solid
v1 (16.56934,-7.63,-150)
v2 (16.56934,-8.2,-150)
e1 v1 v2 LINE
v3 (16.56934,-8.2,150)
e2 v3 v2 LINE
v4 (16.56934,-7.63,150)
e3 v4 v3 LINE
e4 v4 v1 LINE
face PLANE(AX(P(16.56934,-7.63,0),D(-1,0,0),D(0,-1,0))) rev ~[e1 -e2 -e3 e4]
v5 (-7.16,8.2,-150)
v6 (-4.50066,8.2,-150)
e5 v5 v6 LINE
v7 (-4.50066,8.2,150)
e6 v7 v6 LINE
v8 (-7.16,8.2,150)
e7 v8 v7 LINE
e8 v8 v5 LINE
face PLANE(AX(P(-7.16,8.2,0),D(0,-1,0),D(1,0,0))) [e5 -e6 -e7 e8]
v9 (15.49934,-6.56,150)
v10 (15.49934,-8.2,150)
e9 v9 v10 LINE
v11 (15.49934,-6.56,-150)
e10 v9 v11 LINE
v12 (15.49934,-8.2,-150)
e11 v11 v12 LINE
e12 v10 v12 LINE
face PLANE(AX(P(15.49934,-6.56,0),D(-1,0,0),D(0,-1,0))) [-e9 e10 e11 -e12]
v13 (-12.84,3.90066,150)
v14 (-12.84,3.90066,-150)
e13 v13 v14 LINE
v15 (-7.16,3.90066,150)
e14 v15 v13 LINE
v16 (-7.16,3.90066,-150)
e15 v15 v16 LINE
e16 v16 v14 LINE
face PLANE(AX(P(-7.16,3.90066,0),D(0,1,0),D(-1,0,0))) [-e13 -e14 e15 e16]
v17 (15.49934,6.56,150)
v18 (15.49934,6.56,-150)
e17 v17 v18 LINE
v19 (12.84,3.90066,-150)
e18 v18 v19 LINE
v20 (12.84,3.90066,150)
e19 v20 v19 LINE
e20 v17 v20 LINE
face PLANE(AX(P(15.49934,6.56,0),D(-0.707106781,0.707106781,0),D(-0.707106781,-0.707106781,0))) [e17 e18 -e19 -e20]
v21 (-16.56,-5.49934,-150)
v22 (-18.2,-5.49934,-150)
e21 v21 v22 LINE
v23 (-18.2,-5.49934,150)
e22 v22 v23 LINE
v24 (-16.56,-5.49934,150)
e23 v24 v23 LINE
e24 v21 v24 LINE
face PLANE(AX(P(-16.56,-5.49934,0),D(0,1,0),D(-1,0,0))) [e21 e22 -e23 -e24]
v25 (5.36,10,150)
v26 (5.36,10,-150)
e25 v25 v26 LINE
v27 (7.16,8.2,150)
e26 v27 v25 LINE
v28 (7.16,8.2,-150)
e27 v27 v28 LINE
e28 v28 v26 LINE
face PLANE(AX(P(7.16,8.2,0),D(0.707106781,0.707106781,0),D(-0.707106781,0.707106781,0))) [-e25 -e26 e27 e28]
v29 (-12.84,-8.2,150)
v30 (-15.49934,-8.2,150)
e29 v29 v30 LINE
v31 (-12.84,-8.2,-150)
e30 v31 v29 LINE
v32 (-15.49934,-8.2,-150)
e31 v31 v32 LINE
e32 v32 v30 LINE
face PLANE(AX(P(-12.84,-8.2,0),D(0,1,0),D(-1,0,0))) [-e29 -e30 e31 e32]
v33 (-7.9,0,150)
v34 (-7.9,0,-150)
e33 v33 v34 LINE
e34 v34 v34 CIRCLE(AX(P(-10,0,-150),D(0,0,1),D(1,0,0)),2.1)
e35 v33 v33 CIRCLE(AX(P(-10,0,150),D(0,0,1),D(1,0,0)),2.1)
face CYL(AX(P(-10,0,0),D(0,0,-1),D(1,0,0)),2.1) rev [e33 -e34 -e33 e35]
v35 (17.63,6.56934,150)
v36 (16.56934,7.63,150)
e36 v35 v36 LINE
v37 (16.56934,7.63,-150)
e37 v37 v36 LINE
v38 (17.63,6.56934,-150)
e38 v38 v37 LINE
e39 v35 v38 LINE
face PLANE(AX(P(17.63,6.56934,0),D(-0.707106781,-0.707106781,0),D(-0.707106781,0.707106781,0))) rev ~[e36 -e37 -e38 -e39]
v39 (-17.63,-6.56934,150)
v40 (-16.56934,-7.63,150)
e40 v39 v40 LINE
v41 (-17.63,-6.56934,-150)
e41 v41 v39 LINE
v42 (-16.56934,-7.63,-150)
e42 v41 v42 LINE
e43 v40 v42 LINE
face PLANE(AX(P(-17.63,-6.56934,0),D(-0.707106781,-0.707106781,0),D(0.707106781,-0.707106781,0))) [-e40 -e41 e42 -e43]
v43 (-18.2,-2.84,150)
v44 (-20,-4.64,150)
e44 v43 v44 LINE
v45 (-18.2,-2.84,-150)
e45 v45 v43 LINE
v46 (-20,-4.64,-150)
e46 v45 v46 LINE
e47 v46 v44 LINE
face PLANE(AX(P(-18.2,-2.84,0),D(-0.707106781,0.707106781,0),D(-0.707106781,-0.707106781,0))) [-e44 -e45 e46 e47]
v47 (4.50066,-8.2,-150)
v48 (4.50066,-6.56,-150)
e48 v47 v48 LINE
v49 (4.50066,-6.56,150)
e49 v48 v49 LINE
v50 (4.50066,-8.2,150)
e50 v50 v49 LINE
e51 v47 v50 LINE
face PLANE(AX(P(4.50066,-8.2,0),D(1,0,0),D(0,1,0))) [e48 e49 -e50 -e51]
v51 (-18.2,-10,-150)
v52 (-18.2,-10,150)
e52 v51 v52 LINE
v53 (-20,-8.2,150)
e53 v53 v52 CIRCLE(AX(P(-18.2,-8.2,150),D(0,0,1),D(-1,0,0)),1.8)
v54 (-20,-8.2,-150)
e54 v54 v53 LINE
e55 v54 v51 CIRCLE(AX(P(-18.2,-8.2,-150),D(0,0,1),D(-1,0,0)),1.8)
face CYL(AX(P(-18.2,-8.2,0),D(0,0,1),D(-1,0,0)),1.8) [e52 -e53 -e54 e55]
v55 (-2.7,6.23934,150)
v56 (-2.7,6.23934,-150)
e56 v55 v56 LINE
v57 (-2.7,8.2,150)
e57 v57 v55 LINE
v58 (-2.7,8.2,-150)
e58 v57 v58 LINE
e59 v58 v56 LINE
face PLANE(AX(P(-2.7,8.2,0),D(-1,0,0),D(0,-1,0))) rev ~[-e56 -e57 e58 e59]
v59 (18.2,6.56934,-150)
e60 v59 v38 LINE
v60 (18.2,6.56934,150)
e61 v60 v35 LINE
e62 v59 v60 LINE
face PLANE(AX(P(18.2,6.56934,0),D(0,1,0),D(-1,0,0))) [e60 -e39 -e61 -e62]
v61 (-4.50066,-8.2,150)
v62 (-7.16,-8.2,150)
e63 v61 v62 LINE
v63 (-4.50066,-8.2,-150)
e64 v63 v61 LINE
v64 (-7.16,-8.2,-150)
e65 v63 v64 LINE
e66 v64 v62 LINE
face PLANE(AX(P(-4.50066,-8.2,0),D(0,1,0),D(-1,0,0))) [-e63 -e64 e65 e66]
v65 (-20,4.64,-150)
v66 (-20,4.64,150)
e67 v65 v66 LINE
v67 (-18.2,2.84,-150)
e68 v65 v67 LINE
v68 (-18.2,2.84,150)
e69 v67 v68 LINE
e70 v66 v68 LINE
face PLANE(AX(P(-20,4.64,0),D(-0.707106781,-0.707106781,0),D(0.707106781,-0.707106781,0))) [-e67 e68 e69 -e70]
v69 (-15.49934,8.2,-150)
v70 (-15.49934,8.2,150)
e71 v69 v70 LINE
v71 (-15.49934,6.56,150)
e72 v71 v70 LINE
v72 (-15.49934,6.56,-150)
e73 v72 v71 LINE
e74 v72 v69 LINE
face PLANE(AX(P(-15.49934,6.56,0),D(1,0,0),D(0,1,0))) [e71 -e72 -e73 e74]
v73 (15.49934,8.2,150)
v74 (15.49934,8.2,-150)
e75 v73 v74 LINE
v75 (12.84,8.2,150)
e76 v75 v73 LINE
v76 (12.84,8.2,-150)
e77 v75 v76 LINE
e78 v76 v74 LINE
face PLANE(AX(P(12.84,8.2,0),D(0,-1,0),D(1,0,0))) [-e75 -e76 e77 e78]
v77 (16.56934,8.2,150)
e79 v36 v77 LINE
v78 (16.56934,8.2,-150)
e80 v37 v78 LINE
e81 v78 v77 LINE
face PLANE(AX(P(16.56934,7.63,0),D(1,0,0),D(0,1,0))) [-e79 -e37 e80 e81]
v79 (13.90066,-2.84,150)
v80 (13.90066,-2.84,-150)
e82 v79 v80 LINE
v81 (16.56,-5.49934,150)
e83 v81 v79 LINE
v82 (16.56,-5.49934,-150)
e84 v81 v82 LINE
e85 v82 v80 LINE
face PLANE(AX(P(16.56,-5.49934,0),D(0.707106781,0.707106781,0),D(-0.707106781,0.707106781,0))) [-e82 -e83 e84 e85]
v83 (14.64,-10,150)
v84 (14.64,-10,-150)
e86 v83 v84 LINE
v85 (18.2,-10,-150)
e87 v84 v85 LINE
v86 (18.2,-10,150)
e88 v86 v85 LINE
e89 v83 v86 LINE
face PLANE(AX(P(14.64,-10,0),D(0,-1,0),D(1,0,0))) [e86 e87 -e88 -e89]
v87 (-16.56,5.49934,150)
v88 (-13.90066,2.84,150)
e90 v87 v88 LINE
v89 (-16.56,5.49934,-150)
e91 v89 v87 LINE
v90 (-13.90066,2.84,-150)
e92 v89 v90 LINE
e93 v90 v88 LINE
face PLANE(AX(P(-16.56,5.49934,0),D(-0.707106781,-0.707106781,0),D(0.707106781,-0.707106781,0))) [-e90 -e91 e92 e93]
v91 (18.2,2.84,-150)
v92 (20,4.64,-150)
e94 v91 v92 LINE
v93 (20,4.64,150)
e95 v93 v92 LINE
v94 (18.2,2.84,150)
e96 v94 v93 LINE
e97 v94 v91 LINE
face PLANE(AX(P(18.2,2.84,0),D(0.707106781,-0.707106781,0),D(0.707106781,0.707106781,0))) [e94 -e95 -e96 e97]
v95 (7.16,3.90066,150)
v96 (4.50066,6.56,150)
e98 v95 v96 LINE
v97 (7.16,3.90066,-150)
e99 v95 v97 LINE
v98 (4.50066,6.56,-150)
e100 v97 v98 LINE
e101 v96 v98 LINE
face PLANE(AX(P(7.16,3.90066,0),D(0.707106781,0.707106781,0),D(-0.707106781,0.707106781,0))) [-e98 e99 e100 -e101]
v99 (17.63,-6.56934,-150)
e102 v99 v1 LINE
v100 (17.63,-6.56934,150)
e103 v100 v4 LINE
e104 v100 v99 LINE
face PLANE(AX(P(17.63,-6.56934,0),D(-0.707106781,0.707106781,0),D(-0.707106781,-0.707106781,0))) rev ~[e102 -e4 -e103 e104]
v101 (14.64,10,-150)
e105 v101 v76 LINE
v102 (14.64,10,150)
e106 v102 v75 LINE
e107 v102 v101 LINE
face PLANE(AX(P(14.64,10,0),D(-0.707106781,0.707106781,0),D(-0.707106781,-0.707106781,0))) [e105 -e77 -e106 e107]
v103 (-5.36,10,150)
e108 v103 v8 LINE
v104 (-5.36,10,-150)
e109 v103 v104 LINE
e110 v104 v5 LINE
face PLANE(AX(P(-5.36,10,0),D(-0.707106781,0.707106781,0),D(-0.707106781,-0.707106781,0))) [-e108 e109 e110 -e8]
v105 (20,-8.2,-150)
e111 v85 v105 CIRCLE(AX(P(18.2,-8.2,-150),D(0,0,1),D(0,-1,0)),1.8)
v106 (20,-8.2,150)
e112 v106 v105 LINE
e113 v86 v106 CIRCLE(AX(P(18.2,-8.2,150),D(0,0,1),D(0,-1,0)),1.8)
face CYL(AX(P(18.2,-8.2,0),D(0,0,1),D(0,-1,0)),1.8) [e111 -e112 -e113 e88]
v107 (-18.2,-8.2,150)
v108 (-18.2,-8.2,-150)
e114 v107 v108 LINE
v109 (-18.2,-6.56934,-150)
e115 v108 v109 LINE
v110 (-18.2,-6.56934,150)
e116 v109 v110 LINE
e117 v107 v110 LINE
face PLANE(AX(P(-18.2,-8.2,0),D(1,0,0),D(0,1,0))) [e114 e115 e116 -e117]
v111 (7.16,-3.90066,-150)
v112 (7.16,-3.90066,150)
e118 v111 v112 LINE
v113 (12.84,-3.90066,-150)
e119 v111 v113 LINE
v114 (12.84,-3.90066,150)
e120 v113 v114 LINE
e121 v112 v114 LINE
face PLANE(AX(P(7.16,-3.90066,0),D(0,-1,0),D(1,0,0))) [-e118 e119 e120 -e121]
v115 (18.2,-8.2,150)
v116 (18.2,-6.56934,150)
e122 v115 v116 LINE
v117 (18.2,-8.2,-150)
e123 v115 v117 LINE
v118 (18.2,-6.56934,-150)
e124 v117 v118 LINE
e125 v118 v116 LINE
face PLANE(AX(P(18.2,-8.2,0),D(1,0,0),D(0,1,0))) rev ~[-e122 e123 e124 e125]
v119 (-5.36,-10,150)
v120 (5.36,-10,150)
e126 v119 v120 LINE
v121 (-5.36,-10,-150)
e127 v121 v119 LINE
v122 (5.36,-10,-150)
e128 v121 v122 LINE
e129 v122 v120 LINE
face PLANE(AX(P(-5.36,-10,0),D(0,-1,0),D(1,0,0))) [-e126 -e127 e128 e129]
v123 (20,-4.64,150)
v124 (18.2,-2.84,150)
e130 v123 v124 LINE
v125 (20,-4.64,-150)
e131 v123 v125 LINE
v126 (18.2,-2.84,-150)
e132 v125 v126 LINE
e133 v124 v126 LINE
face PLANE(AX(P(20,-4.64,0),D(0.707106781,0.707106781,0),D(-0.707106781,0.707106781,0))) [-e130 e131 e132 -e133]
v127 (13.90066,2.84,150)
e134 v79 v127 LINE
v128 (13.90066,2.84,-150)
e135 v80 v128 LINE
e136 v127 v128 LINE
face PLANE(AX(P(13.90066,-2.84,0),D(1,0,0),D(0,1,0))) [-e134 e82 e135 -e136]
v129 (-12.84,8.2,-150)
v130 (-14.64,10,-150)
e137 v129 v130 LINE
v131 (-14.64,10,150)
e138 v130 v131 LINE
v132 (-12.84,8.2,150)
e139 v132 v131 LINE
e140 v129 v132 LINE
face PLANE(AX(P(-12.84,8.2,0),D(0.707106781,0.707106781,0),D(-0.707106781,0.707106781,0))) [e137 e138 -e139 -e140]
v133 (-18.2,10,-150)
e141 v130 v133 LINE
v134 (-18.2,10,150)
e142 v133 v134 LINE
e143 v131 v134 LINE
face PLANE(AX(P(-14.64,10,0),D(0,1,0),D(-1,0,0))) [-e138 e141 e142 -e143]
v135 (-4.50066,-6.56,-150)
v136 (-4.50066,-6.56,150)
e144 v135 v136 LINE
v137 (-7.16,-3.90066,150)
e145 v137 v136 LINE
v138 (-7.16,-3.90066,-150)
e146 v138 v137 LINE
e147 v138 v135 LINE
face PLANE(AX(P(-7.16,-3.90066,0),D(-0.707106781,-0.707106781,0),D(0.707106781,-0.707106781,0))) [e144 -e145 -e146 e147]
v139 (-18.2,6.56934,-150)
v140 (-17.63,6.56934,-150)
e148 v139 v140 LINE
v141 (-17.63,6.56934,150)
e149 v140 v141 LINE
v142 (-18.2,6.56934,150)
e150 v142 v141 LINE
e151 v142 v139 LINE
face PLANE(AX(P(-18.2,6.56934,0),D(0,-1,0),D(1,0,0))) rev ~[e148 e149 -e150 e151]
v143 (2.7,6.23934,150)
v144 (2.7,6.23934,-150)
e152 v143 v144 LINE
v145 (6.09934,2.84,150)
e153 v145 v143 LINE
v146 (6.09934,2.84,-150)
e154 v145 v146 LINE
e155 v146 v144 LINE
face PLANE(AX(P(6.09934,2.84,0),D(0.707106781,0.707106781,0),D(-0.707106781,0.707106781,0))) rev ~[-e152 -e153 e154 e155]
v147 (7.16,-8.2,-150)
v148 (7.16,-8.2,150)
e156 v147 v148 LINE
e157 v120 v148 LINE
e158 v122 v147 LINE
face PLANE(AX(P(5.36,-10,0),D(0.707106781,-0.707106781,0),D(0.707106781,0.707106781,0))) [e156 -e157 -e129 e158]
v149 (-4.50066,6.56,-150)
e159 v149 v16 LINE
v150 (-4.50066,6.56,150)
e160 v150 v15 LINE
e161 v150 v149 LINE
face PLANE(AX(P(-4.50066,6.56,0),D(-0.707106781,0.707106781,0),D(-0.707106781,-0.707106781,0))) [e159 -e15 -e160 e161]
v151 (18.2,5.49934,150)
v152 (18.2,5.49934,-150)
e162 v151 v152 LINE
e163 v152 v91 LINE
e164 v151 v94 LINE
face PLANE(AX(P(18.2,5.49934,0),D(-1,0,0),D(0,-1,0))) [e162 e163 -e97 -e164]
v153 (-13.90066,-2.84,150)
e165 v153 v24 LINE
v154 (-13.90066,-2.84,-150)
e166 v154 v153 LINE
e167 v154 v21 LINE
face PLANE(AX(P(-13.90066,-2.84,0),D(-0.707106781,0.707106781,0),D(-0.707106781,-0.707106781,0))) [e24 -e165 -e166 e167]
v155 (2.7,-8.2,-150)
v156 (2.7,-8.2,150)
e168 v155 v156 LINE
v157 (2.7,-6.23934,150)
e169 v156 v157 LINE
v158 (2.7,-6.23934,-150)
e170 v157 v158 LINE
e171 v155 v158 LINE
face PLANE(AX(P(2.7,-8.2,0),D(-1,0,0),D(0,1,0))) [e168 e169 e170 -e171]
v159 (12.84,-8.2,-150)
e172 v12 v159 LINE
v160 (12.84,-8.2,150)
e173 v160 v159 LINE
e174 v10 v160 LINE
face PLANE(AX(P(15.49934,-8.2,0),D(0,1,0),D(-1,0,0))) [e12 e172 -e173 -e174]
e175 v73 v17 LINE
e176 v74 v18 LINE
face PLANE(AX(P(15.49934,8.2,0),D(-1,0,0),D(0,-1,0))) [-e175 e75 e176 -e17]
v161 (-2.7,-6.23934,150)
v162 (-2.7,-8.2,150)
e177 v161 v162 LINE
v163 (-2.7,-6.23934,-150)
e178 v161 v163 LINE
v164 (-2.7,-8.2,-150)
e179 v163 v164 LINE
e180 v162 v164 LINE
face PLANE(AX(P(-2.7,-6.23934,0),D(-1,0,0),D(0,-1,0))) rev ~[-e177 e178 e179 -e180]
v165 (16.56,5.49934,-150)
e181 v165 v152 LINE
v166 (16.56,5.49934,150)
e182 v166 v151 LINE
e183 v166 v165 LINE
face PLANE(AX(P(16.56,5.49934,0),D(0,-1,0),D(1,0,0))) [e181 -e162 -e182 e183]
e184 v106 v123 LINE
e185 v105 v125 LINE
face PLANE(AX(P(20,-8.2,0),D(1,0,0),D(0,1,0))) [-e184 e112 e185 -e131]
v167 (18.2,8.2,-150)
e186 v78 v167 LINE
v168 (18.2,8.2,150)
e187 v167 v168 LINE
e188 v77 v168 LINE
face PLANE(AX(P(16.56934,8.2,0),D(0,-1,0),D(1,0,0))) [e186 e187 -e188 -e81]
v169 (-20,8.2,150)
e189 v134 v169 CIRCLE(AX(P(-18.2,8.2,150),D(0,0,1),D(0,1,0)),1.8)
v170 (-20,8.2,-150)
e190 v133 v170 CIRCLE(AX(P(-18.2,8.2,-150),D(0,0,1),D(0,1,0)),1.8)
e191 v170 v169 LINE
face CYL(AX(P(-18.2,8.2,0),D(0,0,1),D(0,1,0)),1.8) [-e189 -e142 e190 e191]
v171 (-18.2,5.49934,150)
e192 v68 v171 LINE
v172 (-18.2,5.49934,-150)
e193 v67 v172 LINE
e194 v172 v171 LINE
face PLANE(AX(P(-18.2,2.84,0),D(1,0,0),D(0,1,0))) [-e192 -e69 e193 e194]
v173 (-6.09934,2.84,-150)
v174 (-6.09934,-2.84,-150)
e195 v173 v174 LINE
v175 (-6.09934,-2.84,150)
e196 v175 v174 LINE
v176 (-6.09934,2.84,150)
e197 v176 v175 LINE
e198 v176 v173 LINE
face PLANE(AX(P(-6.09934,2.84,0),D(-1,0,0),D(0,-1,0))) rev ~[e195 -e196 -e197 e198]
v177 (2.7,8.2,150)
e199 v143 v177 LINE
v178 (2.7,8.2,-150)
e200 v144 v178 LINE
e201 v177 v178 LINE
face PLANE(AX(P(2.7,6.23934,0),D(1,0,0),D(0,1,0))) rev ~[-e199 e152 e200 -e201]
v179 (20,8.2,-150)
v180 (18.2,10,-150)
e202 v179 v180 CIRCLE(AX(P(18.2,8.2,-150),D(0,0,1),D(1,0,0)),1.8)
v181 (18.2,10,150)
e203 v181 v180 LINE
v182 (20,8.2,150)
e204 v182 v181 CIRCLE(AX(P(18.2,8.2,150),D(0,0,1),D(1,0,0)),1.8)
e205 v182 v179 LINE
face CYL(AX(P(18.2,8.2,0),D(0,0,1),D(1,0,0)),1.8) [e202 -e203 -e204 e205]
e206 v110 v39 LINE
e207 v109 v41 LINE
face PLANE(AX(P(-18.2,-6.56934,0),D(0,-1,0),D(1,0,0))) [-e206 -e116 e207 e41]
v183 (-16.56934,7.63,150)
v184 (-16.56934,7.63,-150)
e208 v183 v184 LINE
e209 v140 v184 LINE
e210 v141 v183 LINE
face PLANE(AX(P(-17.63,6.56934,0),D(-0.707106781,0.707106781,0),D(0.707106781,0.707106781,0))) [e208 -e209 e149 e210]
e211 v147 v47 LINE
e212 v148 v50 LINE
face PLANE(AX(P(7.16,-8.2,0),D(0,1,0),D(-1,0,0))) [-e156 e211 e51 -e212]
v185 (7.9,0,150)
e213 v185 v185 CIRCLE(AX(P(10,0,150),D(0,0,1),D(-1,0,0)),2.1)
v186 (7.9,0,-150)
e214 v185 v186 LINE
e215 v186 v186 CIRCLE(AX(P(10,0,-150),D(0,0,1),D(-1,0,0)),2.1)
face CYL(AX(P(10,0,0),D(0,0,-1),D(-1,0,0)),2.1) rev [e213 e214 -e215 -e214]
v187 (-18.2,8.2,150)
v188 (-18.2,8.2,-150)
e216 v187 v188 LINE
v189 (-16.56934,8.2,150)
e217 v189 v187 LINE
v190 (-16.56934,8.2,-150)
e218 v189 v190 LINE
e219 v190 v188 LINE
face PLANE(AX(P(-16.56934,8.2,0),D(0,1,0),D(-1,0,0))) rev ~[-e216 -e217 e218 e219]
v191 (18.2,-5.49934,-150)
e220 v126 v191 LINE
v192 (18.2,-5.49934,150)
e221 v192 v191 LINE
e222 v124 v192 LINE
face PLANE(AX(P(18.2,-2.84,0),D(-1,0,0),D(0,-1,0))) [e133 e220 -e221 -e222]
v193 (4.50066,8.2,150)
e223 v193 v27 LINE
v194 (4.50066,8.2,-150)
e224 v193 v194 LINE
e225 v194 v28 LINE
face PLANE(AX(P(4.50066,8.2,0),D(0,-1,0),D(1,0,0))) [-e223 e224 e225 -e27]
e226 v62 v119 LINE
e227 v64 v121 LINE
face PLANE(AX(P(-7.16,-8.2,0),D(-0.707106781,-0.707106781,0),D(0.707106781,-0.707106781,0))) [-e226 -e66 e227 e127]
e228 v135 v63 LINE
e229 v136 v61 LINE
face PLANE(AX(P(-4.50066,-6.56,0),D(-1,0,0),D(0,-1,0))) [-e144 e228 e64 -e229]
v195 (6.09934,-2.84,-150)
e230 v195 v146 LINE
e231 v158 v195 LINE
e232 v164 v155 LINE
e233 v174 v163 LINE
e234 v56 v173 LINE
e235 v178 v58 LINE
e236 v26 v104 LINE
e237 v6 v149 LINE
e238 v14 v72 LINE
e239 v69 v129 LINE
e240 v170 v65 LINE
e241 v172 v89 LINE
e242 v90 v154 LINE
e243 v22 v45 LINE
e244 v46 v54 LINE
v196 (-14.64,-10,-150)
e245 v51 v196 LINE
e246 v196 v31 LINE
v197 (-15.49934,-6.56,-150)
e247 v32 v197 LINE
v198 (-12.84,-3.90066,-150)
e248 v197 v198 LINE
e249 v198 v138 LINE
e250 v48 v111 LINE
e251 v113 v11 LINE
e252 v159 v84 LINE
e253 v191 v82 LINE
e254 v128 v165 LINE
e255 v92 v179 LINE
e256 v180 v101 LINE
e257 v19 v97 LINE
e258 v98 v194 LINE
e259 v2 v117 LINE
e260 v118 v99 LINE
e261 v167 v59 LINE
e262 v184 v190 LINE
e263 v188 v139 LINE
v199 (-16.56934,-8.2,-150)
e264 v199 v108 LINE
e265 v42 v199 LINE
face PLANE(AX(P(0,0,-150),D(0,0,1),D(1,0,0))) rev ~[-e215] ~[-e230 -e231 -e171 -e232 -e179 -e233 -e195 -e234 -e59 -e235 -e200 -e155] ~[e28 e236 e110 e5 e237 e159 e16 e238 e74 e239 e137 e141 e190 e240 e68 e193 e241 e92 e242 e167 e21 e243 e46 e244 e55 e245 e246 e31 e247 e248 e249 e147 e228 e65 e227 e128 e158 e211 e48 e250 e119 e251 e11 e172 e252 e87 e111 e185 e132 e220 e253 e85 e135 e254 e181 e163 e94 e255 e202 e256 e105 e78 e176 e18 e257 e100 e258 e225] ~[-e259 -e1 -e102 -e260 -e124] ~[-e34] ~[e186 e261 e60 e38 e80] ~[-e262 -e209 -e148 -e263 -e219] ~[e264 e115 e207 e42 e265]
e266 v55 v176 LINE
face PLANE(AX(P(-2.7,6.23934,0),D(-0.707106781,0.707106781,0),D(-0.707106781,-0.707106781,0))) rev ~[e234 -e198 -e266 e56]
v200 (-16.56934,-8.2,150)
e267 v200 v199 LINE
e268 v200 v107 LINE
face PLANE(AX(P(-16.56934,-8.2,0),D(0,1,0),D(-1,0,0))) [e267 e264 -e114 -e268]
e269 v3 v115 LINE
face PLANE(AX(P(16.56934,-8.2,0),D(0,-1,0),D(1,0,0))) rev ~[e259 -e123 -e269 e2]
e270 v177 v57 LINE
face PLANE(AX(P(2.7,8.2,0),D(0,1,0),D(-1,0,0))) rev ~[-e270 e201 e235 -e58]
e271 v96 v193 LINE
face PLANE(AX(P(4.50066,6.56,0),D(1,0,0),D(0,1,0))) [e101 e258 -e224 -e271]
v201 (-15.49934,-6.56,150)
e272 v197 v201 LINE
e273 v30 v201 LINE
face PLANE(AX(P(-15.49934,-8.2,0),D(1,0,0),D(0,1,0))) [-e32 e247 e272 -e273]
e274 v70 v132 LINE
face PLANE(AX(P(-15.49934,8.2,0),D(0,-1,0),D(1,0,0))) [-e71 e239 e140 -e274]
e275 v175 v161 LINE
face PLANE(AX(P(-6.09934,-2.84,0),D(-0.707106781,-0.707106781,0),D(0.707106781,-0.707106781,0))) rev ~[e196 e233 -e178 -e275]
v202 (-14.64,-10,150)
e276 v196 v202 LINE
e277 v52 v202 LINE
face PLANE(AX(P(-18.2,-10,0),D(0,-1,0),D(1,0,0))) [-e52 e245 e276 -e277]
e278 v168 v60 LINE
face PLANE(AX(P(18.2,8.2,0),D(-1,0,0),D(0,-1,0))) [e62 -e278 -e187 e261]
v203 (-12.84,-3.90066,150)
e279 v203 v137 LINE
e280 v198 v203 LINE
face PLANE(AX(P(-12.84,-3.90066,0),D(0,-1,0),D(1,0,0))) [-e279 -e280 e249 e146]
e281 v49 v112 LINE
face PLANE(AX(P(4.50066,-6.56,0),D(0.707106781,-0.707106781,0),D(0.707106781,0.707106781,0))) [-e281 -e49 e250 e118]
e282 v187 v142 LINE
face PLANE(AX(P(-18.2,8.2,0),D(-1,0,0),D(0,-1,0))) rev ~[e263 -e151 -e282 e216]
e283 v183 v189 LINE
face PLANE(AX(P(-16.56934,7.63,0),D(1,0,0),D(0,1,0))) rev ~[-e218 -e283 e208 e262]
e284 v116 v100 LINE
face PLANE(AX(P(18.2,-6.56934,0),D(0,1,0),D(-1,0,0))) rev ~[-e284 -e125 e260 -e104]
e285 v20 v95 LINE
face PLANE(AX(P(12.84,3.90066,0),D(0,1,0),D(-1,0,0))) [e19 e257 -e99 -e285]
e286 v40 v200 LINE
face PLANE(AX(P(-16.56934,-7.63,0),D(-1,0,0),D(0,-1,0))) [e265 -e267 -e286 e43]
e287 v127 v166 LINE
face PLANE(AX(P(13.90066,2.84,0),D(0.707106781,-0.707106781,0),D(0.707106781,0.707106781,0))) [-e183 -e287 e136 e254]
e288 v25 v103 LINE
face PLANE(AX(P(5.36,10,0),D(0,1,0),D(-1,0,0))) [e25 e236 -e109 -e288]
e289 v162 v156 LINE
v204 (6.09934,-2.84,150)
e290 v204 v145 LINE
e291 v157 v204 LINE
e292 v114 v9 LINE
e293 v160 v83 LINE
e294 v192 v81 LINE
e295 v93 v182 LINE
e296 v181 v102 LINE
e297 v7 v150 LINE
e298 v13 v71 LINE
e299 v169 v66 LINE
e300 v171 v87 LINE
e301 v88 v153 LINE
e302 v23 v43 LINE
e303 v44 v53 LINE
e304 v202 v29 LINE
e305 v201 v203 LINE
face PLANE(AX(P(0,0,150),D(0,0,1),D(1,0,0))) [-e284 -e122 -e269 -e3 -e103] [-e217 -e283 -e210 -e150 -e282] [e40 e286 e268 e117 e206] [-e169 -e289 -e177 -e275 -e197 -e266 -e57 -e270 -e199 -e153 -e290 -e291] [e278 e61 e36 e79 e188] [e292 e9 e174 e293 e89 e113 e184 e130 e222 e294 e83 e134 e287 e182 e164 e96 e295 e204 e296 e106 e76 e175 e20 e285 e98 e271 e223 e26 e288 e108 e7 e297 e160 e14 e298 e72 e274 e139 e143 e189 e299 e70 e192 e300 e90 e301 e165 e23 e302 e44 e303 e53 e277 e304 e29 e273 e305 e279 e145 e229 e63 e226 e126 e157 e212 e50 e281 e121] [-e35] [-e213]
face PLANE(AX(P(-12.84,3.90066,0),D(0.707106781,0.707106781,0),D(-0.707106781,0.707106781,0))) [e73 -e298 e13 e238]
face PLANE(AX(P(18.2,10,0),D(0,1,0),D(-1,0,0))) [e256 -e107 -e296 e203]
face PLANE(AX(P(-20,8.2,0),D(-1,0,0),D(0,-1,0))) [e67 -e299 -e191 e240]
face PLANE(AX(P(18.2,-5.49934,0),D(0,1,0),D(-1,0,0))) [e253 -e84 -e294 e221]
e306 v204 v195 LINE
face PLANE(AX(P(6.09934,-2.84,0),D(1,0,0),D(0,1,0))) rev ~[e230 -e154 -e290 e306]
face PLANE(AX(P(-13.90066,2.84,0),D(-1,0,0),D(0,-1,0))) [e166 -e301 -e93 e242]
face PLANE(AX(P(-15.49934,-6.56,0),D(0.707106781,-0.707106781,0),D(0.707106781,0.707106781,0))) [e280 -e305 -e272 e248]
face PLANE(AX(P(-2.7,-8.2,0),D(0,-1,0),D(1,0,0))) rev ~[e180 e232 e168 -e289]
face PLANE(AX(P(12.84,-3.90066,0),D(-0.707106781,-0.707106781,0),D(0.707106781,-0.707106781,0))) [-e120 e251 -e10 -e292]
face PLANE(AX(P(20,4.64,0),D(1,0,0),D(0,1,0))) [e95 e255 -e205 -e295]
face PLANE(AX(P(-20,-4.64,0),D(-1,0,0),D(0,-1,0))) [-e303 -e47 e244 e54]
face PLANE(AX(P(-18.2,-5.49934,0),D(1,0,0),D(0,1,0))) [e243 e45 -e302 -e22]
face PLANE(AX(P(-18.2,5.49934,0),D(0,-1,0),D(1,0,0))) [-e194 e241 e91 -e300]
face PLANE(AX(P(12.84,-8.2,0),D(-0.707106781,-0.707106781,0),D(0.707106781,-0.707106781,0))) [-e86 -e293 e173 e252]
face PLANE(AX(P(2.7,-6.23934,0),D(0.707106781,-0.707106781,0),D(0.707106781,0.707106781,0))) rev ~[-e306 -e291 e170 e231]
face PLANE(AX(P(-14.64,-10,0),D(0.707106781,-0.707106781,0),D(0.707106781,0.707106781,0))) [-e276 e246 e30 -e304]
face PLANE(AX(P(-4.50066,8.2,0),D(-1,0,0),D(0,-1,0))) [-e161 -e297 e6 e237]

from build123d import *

# Parameters (mm, degrees)
ESQUISSE1_R        = 2.1
BOSS_EXTRU_1_DEPTH = 150


with BuildPart() as part:
    # Esquisse1 → Boss.-Extru.1 (new, symmetric)
    with BuildSketch(Plane.XY):
        with BuildLine():
            Line((-10, 3.900660172), (-12.84, 3.900660172))
            Line((-12.84, 3.900660172), (-15.499339828, 6.56))
            Line((-15.499339828, 6.56), (-15.499339828, 8.2))
            Line((-15.499339828, 8.2), (-12.84, 8.2))
            Line((-12.84, 8.2), (-14.64, 10))
            Line((-14.64, 10), (-18.2, 10))
            ThreePointArc((-18.2, 10), (-19.472792206, 9.472792206), (-20, 8.2))
            Line((-20, 8.2), (-20, 4.64))
            Line((-20, 4.64), (-18.2, 2.84))
            Line((-18.2, 2.84), (-18.2, 5.499339828))
            Line((-18.2, 5.499339828), (-16.56, 5.499339828))
            Line((-16.56, 5.499339828), (-13.900660172, 2.84))
            Line((-13.900660172, 2.84), (-13.900660172, 0))
            Line((-13.900660172, 0), (-13.900660172, -2.84))
            Line((-13.900660172, -2.84), (-16.56, -5.499339828))
            Line((-16.56, -5.499339828), (-18.2, -5.499339828))
            Line((-18.2, -5.499339828), (-18.2, -2.84))
            Line((-18.2, -2.84), (-20, -4.64))
            Line((-20, -4.64), (-20, -8.2))
            ThreePointArc((-20, -8.2), (-19.472792206, -9.472792206), (-18.2, -10))
            Line((-18.2, -10), (-14.64, -10))
            Line((-14.64, -10), (-12.84, -8.2))
            Line((-12.84, -8.2), (-15.499339828, -8.2))
            Line((-15.499339828, -8.2), (-15.499339828, -6.56))
            Line((-15.499339828, -6.56), (-12.84, -3.900660172))
            Line((-12.84, -3.900660172), (-10, -3.900660172))
            Line((-10, -3.900660172), (-7.16, -3.900660172))
            Line((-7.16, -3.900660172), (-4.500660172, -6.56))
            Line((-4.500660172, -6.56), (-4.500660172, -8.2))
            Line((-4.500660172, -8.2), (-7.16, -8.2))
            Line((-7.16, -8.2), (-5.36, -10))
            Line((-5.36, -10), (5.36, -10))
            Line((5.36, -10), (7.16, -8.2))
            Line((7.16, -8.2), (4.500660172, -8.2))
            Line((4.500660172, -8.2), (4.500660172, -6.56))
            Line((4.500660172, -6.56), (7.16, -3.900660172))
            Line((7.16, -3.900660172), (10, -3.900660172))
            Line((10, -3.900660172), (12.84, -3.900660172))
            Line((12.84, -3.900660172), (15.499339828, -6.56))
            Line((15.499339828, -6.56), (15.499339828, -8.2))
            Line((15.499339828, -8.2), (12.84, -8.2))
            Line((12.84, -8.2), (14.64, -10))
            Line((14.64, -10), (18.2, -10))
            ThreePointArc((18.2, -10), (19.472792206, -9.472792206), (20, -8.2))
            Line((20, -8.2), (20, -4.64))
            Line((20, -4.64), (18.2, -2.84))
            Line((18.2, -2.84), (18.2, -5.499339828))
            Line((18.2, -5.499339828), (16.56, -5.499339828))
            Line((16.56, -5.499339828), (13.900660172, -2.84))
            Line((13.900660172, -2.84), (13.900660172, 0))
            Line((13.900660172, 0), (13.900660172, 2.84))
            Line((13.900660172, 2.84), (16.56, 5.499339828))
            Line((16.56, 5.499339828), (18.2, 5.499339828))
            Line((18.2, 5.499339828), (18.2, 2.84))
            Line((18.2, 2.84), (20, 4.64))
            Line((20, 4.64), (20, 8.2))
            ThreePointArc((20, 8.2), (19.472792206, 9.472792206), (18.2, 10))
            Line((18.2, 10), (14.64, 10))
            Line((14.64, 10), (12.84, 8.2))
            Line((12.84, 8.2), (15.499339828, 8.2))
            Line((15.499339828, 8.2), (15.499339828, 6.56))
            Line((15.499339828, 6.56), (12.84, 3.900660172))
            Line((12.84, 3.900660172), (10, 3.900660172))
            Line((10, 3.900660172), (7.16, 3.900660172))
            Line((7.16, 3.900660172), (4.500660172, 6.56))
            Line((4.500660172, 6.56), (4.500660172, 8.2))
            Line((4.500660172, 8.2), (7.16, 8.2))
            Line((7.16, 8.2), (5.36, 10))
            Line((5.36, 10), (-5.36, 10))
            Line((-5.36, 10), (-7.16, 8.2))
            Line((-7.16, 8.2), (-4.500660172, 8.2))
            Line((-4.500660172, 8.2), (-4.500660172, 6.56))
            Line((-4.500660172, 6.56), (-7.16, 3.900660172))
            Line((-7.16, 3.900660172), (-10, 3.900660172))
        make_face()
        with Locations((-10, 0)):
            Circle(ESQUISSE1_R, mode=Mode.SUBTRACT)
        with Locations(Location((10, 0, 0), (0, 0, 180))):
            Circle(ESQUISSE1_R, mode=Mode.SUBTRACT)
        Polygon((-2.7, 8.2), (-2.7, 6.239339828), (-6.099339828, 2.84), (-6.099339828, -2.84), (-2.7, -6.239339828), (-2.7, -8.2), (2.7, -8.2), (2.7, -6.239339828), (6.099339828, -2.84), (6.099339828, 2.84), (2.7, 6.239339828), (2.7, 8.2), align=None, mode=Mode.SUBTRACT)
        Polygon((-18.2, 8.2), (-18.2, 6.569339828), (-17.63, 6.569339828), (-16.569339828, 7.63), (-16.569339828, 8.2), align=None, mode=Mode.SUBTRACT)
        Polygon((-18.2, -6.569339828), (-17.63, -6.569339828), (-16.569339828, -7.63), (-16.569339828, -8.2), (-18.2, -8.2), align=None, mode=Mode.SUBTRACT)
        Polygon((18.2, 6.569339828), (17.63, 6.569339828), (16.569339828, 7.63), (16.569339828, 8.2), (18.2, 8.2), align=None, mode=Mode.SUBTRACT)
        Polygon((18.2, -6.569339828), (17.63, -6.569339828), (16.569339828, -7.63), (16.569339828, -8.2), (18.2, -8.2), align=None, mode=Mode.SUBTRACT)
    extrude(amount=BOSS_EXTRU_1_DEPTH, both=True)


solid = part.part
